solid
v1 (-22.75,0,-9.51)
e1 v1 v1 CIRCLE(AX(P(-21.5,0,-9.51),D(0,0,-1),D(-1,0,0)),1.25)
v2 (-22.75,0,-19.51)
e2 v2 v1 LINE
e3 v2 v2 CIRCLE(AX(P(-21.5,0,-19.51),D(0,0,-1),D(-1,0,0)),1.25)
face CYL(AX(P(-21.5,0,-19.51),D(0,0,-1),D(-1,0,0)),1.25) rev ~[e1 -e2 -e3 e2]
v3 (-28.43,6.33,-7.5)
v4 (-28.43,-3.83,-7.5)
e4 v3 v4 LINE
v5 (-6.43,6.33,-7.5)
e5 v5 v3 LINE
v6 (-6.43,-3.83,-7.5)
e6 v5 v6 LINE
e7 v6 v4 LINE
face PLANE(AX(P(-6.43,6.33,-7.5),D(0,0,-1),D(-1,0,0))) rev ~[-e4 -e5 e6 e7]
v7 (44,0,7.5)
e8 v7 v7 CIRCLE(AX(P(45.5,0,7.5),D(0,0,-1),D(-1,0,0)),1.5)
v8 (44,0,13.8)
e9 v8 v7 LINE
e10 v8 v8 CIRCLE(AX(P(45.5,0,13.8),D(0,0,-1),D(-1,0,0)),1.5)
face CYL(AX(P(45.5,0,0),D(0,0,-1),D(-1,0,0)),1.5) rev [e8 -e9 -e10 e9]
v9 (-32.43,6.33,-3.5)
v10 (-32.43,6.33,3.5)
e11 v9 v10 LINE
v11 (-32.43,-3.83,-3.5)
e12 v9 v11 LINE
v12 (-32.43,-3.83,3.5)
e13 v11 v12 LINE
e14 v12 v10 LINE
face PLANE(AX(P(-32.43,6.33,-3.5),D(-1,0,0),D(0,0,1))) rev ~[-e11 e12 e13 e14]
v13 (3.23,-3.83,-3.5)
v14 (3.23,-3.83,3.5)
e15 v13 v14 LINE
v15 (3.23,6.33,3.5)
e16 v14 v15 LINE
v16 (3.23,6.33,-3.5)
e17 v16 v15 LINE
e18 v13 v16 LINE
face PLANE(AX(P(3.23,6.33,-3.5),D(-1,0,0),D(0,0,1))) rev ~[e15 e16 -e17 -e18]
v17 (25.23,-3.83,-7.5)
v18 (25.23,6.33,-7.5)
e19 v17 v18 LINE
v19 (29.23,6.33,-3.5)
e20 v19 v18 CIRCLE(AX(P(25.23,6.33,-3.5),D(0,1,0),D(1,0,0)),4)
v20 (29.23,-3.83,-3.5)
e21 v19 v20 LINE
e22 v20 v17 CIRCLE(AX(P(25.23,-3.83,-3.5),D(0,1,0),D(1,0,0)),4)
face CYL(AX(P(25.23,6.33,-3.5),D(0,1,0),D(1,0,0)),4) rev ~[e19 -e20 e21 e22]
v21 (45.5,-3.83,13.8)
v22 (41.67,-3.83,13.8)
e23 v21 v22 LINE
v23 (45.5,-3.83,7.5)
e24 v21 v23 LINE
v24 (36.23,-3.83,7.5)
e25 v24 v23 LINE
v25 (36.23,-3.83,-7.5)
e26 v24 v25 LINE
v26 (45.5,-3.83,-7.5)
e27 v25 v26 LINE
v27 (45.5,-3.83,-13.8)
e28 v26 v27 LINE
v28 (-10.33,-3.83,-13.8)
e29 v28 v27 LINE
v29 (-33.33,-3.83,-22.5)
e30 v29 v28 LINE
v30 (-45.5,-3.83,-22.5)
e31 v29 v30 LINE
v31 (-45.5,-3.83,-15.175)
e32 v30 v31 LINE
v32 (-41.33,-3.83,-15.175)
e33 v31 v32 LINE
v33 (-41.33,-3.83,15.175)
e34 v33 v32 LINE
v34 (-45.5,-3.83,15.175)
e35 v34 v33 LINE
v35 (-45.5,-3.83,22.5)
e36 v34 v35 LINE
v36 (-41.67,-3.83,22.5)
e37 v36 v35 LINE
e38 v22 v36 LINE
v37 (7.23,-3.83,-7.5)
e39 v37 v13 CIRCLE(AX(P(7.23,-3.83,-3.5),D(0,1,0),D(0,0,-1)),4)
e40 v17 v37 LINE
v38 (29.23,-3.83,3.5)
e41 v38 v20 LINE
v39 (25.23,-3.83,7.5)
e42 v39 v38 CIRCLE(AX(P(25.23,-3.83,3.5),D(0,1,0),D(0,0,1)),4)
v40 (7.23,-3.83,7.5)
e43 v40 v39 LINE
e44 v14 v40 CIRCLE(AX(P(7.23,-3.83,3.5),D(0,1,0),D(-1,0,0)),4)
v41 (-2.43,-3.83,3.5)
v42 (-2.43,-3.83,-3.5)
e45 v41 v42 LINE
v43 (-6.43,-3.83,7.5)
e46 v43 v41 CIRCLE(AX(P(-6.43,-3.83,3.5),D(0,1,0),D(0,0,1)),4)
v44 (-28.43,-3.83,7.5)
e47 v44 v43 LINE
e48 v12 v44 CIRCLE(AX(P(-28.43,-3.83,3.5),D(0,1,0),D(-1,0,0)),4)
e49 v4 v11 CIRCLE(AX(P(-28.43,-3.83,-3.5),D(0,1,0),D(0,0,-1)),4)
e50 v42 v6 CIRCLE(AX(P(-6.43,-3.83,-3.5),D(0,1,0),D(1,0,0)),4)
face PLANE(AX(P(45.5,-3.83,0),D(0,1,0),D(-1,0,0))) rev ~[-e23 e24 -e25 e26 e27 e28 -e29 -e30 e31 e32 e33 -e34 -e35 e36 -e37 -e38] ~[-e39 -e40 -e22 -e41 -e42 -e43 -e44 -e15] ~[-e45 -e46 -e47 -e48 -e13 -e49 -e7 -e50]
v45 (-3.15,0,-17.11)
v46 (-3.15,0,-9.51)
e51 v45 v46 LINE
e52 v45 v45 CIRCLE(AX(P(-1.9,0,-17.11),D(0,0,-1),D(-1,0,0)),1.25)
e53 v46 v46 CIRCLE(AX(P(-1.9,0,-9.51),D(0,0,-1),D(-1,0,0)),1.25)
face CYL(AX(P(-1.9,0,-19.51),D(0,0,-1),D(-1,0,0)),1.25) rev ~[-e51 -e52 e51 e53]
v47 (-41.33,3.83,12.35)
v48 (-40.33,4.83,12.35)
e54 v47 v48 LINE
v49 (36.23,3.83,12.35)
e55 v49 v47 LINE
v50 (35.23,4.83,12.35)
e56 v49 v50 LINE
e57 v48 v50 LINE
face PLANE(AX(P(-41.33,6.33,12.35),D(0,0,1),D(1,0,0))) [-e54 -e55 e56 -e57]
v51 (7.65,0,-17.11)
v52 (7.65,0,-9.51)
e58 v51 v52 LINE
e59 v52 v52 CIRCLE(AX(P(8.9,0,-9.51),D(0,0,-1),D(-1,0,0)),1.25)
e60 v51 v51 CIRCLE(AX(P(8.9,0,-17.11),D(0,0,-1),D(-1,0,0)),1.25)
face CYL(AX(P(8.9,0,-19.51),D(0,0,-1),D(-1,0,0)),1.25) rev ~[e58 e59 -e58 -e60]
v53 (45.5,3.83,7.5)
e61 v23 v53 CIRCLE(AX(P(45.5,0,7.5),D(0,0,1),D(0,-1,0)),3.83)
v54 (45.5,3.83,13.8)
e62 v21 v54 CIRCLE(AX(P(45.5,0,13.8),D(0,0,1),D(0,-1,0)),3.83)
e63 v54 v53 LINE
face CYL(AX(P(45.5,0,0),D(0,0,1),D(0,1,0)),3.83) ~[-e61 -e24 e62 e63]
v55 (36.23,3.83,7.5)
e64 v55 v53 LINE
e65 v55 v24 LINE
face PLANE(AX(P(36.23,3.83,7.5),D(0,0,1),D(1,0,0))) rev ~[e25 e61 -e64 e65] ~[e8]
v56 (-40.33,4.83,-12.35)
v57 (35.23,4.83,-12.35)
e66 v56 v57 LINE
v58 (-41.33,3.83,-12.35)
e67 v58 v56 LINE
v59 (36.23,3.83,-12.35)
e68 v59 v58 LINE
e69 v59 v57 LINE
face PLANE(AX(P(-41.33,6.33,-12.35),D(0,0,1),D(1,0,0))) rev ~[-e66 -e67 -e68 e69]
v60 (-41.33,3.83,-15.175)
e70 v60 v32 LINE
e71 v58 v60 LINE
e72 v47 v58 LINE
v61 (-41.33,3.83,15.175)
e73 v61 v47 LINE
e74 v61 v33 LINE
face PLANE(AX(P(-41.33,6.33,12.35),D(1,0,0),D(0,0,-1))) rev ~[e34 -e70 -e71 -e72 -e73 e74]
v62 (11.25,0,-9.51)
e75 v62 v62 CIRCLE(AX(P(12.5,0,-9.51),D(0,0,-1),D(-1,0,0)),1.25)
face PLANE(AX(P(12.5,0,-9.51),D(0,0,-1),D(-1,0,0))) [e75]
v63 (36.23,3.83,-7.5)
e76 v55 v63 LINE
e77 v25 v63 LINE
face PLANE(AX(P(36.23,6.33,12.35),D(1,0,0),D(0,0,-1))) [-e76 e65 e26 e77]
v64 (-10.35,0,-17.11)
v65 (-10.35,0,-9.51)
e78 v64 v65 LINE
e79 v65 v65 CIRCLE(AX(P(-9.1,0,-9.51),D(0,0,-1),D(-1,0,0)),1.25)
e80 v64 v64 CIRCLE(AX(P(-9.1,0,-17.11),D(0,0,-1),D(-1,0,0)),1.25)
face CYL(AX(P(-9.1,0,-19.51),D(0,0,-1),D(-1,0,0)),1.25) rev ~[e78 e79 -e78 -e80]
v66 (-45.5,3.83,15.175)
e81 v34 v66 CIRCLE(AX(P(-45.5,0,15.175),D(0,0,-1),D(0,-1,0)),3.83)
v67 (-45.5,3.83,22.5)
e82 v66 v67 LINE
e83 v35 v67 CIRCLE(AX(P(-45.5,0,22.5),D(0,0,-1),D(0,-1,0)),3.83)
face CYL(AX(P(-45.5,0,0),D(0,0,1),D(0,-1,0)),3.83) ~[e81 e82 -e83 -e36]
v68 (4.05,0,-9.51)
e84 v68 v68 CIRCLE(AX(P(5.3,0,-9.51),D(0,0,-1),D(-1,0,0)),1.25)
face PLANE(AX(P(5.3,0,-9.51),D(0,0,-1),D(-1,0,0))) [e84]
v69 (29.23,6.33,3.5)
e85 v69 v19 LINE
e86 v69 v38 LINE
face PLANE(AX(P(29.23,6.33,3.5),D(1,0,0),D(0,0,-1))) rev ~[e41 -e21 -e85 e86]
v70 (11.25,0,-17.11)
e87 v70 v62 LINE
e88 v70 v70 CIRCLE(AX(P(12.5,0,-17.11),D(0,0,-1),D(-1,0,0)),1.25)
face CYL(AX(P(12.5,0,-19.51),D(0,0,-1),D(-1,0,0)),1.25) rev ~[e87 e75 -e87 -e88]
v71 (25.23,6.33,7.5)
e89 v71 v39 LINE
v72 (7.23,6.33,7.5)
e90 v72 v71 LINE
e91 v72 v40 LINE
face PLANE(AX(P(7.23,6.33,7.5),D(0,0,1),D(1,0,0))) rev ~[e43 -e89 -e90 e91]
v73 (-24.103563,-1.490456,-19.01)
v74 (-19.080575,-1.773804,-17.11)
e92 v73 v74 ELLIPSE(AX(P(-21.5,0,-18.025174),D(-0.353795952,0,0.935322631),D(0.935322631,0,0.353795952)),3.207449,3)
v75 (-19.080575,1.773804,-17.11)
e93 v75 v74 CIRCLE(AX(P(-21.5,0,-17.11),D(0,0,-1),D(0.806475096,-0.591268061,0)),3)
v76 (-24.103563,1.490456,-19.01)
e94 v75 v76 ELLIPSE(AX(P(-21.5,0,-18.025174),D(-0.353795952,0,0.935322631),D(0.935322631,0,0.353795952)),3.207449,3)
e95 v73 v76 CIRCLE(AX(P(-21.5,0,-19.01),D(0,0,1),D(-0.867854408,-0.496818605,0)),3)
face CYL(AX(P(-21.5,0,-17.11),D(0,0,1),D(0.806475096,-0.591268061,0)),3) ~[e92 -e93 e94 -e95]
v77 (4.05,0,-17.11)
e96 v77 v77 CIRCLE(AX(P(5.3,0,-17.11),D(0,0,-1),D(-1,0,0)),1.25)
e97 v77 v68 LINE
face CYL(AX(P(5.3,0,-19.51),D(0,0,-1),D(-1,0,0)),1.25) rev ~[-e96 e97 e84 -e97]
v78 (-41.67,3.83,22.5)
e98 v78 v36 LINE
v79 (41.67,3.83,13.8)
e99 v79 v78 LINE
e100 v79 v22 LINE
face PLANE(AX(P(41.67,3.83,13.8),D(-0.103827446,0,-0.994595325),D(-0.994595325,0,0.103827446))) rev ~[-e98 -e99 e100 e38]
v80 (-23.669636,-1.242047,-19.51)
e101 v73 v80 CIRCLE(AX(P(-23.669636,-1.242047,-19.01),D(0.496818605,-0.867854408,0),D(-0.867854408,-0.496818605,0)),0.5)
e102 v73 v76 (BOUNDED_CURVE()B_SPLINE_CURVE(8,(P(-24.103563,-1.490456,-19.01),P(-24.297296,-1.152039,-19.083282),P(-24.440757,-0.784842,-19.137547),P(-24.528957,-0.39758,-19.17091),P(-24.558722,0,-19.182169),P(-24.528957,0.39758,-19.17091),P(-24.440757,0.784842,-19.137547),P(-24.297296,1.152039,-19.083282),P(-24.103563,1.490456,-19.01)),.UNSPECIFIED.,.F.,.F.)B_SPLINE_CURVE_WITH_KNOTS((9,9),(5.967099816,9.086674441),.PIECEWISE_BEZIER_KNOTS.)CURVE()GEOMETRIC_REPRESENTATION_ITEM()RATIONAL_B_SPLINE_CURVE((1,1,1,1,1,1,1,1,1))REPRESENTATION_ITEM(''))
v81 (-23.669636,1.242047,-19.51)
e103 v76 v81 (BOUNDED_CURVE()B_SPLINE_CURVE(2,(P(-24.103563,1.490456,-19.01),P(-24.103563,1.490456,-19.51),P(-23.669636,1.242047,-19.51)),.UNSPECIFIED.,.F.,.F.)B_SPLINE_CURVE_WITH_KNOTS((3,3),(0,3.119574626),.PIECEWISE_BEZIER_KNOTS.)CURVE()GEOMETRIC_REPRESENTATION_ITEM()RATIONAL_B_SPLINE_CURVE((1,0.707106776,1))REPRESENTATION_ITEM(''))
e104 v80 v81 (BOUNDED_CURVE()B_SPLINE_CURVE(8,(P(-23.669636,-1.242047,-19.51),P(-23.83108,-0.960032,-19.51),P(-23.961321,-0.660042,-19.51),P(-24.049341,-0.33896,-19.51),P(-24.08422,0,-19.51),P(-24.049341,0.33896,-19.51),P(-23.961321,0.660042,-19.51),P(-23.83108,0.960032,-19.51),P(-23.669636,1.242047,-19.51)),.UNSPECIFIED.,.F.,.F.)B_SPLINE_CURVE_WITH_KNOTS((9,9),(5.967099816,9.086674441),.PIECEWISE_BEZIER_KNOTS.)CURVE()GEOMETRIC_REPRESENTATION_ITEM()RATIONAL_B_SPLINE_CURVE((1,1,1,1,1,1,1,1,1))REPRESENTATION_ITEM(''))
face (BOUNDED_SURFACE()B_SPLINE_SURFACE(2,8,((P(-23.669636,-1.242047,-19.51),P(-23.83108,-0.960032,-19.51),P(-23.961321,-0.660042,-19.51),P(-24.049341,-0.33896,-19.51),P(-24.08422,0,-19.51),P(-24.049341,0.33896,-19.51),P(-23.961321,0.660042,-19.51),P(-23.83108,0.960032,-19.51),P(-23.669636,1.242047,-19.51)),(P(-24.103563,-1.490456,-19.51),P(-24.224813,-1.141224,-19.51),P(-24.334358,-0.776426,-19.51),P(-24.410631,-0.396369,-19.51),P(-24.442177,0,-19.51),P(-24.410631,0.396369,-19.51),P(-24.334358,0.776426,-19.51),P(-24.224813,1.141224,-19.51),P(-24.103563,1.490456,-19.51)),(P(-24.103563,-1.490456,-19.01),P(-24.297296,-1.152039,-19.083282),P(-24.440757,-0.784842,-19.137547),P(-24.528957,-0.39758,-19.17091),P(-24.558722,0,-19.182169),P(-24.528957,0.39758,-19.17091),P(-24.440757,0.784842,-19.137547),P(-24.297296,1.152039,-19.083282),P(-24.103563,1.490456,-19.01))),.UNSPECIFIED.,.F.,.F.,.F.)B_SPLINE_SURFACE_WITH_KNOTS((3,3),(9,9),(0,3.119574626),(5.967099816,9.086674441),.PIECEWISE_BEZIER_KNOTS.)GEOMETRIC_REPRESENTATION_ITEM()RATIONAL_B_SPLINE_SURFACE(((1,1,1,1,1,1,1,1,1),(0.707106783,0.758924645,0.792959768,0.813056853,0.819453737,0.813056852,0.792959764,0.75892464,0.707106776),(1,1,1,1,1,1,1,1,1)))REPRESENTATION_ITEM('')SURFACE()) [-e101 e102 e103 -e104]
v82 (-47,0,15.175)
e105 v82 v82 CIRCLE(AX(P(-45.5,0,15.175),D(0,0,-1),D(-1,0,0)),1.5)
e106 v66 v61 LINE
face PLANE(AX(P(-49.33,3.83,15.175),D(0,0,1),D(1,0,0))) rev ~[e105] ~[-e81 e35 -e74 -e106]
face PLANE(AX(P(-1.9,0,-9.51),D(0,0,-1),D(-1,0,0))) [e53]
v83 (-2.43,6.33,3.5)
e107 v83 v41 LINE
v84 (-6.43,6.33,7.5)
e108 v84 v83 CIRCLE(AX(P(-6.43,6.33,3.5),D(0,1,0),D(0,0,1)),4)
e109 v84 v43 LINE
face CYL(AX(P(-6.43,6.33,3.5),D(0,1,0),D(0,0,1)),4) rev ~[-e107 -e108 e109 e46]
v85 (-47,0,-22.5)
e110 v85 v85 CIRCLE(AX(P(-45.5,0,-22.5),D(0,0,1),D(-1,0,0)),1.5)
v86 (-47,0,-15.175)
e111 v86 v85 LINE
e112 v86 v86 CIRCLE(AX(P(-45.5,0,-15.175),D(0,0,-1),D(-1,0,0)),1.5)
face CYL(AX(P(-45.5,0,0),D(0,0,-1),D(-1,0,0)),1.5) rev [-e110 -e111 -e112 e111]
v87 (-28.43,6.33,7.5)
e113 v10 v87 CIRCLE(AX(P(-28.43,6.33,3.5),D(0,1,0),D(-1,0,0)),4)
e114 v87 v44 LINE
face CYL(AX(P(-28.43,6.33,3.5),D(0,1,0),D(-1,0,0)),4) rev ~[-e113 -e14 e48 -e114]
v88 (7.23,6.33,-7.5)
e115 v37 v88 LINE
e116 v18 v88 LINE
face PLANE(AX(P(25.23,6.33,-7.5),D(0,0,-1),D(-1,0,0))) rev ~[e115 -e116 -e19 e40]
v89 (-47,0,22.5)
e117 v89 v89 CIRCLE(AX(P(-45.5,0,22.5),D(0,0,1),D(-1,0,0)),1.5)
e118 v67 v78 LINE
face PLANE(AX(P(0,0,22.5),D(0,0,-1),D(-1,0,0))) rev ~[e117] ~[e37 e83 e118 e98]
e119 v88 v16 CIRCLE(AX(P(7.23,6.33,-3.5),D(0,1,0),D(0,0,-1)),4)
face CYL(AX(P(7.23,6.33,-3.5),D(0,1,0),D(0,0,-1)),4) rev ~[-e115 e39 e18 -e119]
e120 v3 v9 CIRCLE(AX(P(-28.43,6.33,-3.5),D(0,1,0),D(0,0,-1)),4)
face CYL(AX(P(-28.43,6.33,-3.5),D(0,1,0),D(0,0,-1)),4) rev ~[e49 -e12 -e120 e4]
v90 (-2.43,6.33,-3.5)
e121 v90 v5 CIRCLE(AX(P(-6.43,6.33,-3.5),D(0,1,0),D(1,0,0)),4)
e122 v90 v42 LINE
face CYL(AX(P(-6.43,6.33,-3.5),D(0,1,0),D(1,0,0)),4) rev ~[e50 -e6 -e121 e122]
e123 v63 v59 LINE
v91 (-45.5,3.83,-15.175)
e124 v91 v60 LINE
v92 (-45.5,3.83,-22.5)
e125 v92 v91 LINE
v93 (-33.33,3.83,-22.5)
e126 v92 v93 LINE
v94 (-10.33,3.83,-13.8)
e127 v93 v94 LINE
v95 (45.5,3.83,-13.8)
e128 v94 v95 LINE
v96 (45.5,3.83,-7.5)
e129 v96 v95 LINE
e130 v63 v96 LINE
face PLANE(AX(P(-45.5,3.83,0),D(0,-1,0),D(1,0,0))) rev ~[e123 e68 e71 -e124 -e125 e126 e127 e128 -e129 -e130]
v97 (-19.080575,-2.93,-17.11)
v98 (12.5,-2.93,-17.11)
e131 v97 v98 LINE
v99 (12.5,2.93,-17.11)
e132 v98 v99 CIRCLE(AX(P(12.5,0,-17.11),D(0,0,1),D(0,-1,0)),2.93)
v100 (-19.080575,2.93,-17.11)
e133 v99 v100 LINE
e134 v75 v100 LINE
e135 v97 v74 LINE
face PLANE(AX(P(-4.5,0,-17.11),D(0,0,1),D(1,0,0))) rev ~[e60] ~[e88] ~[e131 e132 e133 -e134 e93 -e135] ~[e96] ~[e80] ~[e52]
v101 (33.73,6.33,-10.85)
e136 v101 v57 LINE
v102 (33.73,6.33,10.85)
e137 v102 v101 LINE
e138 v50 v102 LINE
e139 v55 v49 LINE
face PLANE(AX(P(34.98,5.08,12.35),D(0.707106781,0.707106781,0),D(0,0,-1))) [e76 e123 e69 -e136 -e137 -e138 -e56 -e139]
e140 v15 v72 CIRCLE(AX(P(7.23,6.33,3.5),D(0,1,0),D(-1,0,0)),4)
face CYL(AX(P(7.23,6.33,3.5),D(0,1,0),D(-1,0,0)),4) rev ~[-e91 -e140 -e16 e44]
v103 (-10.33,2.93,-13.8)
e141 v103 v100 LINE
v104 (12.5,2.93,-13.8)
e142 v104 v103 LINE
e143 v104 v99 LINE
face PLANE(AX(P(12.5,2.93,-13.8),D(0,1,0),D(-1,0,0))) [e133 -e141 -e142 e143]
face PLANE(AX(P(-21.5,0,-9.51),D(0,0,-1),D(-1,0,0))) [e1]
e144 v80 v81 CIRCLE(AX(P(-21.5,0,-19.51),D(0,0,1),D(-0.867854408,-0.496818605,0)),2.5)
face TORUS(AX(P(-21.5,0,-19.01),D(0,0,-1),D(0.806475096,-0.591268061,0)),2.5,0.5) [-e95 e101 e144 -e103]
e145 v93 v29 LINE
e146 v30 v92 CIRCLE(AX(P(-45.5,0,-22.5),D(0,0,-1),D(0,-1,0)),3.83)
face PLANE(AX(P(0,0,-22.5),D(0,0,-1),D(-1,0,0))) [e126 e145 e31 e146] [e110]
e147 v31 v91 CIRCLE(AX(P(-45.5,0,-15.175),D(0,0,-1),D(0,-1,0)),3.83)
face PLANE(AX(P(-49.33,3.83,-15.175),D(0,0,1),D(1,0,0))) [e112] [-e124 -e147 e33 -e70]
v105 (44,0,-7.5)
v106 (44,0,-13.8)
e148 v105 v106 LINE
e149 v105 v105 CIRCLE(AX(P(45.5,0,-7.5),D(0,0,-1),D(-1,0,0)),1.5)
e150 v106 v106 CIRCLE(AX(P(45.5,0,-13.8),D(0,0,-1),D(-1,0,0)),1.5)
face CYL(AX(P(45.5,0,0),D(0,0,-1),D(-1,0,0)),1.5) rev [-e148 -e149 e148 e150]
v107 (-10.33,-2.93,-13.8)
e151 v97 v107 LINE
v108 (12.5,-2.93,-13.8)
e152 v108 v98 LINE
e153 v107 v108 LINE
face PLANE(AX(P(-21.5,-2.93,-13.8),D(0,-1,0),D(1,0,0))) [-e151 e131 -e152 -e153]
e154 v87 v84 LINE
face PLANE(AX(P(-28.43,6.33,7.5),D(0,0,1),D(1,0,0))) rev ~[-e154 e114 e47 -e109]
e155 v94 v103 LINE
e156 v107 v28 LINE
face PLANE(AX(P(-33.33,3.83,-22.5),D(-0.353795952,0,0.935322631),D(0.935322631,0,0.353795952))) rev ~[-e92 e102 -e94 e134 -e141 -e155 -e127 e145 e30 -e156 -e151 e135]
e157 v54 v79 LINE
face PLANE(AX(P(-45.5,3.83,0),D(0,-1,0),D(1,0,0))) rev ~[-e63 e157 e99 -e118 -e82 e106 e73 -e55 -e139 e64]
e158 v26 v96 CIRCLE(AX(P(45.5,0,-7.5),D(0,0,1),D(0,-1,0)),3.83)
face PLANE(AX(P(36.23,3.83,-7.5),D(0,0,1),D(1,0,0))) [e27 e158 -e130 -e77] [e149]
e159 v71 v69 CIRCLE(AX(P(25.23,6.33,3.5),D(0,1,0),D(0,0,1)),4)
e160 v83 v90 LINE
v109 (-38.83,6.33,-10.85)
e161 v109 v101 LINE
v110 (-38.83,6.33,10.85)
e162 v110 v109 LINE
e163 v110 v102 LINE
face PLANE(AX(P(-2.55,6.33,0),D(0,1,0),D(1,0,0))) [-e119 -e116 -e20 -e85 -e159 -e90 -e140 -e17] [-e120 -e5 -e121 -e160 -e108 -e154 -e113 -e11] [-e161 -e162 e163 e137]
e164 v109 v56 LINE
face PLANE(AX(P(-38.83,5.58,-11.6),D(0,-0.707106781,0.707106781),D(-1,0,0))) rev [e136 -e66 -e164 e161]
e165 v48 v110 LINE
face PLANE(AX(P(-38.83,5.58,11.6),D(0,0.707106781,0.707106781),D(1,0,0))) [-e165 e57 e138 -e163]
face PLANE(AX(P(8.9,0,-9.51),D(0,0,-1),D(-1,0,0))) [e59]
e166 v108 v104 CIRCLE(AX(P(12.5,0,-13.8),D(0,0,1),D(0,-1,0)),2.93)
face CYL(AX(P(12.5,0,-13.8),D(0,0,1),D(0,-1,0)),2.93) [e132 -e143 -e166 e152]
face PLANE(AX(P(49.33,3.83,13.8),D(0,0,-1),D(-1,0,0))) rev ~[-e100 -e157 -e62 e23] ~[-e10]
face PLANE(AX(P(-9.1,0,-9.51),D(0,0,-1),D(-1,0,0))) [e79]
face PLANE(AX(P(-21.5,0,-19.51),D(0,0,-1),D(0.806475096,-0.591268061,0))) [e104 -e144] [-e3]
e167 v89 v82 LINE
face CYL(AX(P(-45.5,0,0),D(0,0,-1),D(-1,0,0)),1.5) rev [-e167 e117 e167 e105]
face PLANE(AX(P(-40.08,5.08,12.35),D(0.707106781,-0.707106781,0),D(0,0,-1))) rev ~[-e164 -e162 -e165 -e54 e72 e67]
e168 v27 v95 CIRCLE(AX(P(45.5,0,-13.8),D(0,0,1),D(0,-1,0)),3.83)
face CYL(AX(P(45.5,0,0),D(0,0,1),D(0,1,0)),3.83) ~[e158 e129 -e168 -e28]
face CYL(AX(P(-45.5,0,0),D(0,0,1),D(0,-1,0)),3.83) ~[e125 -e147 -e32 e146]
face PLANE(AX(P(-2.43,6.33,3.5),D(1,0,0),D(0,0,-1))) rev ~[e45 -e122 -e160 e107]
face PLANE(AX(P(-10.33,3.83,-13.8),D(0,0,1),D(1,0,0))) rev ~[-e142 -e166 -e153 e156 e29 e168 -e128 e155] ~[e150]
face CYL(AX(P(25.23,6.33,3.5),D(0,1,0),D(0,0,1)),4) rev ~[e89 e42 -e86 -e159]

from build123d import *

# Parameters (mm, degrees)
SKETCH1_R           = 1.5
BOSS_EXTRUDE1_DEPTH = 22.5
SKETCH2_W           = 3.83
SKETCH2_H           = 8.7
SKETCH2_W_2         = 8
SKETCH2_H_2         = 30.35
SKETCH2_W_3         = 13.1
SKETCH2_H_3         = 15
CUT_EXTRUDE1_DEPTH  = 55.757415023
BOSS_EXTRUDE2_START = 6.33
SKETCH3_W           = 77.56
SKETCH3_H           = 24.7
BOSS_EXTRUDE2_DEPTH = 6.33
CHAMFER1_SIZE       = 2.5
CHAMFER2_SIZE       = 1.5
BOSS_EXTRUDE3_DEPTH = 3.31
SKETCH5_R           = 3
BOSS_EXTRUDE4_DEPTH = 2.4
FILLET1_R           = 0.5
SKETCH6_R           = 1.25
CUT_EXTRUDE2_DEPTH  = 10


with BuildPart() as part:
    # Sketch1 → Boss-Extrude1 (new, symmetric)
    with BuildSketch(Plane.XY):
        with BuildLine():
            Line((-45.5, 3.83), (45.5, 3.83))
            ThreePointArc((45.5, 3.83), (49.33, 0), (45.5, -3.83))
            Line((45.5, -3.83), (-45.5, -3.83))
            ThreePointArc((-45.5, -3.83), (-49.33, 0), (-45.5, 3.83))
        make_face()
        with Locations(Location((-45.5, 0, 0), (0, 0, 180))):
            Circle(SKETCH1_R, mode=Mode.SUBTRACT)
        with Locations(Location((45.5, 0, 0), (0, 0, 180))):
            Circle(SKETCH1_R, mode=Mode.SUBTRACT)
    extrude(amount=BOSS_EXTRUDE1_DEPTH, both=True)

    # Sketch2 → Cut-Extrude1 (cut, through all)
    with BuildSketch(Plane(origin=(0, 3.83, 0), x_dir=(1, 0, 0), z_dir=(0, 1, 0))):
        Polygon((-10.33, 13.8), (45.5, 13.8), (45.5, 22.5), (-33.33, 22.5), align=None)
        Polygon((41.67, -13.8), (-41.67, -22.5), (45.5, -22.5), (45.5, -13.8), align=None)
        with Locations((47.415, -18.15)):
            Rectangle(SKETCH2_W, SKETCH2_H)
        with Locations((47.415, 18.15)):
            Rectangle(SKETCH2_W, SKETCH2_H)
        with BuildLine():
            Line((-6.43, 7.5), (-28.43, 7.5))
            ThreePointArc((-28.43, 7.5), (-31.258427125, 6.328427125), (-32.43, 3.5))
            Line((-32.43, 3.5), (-32.43, -3.5))
            ThreePointArc((-32.43, -3.5), (-31.258427125, -6.328427125), (-28.43, -7.5))
            Line((-28.43, -7.5), (-6.43, -7.5))
            ThreePointArc((-6.43, -7.5), (-3.601572875, -6.328427125), (-2.43, -3.5))
            Line((-2.43, -3.5), (-2.43, 3.5))
            ThreePointArc((-2.43, 3.5), (-3.601572875, 6.328427125), (-6.43, 7.5))
        make_face()
        with BuildLine():
            Line((25.23, 7.5), (7.23, 7.5))
            ThreePointArc((7.23, 7.5), (4.401572875, 6.328427125), (3.23, 3.5))
            Line((3.23, 3.5), (3.23, -3.5))
            ThreePointArc((3.23, -3.5), (4.401572875, -6.328427125), (7.23, -7.5))
            Line((7.23, -7.5), (25.23, -7.5))
            ThreePointArc((25.23, -7.5), (28.058427125, -6.328427125), (29.23, -3.5))
            Line((29.23, -3.5), (29.23, 3.5))
            ThreePointArc((29.23, 3.5), (28.058427125, 6.328427125), (25.23, 7.5))
        make_face()
        with Locations((-45.33, 0)):
            Rectangle(SKETCH2_W_2, SKETCH2_H_2)
        with Locations((42.78, 0)):
            Rectangle(SKETCH2_W_3, SKETCH2_H_3)
    extrude(amount=-CUT_EXTRUDE1_DEPTH, mode=Mode.SUBTRACT)

    # Sketch3 → Boss-Extrude2 (add)
    with BuildSketch(Plane(origin=(0, 0, 0), x_dir=(1, 0, 0), z_dir=(0, 1, 0)).offset(BOSS_EXTRUDE2_START)):
        with Locations((-2.55, 0)):
            Rectangle(SKETCH3_W, SKETCH3_H)
        with BuildLine():
            ThreePointArc((3.23, -3.5), (4.401572875, -6.328427125), (7.23, -7.5))
            Line((7.23, -7.5), (25.23, -7.5))
            ThreePointArc((25.23, -7.5), (28.058427125, -6.328427125), (29.23, -3.5))
            Line((29.23, -3.5), (29.23, 3.5))
            ThreePointArc((29.23, 3.5), (28.058427125, 6.328427125), (25.23, 7.5))
            Line((25.23, 7.5), (7.23, 7.5))
            ThreePointArc((7.23, 7.5), (4.401572875, 6.328427125), (3.23, 3.5))
            Line((3.23, 3.5), (3.23, -3.5))
        make_face(mode=Mode.SUBTRACT)
        with BuildLine():
            ThreePointArc((-32.43, -3.5), (-31.258427125, -6.328427125), (-28.43, -7.5))
            Line((-28.43, -7.5), (-6.43, -7.5))
            ThreePointArc((-6.43, -7.5), (-3.601572875, -6.328427125), (-2.43, -3.5))
            Line((-2.43, -3.5), (-2.43, 3.5))
            ThreePointArc((-2.43, 3.5), (-3.601572875, 6.328427125), (-6.43, 7.5))
            Line((-6.43, 7.5), (-28.43, 7.5))
            ThreePointArc((-28.43, 7.5), (-31.258427125, 6.328427125), (-32.43, 3.5))
            Line((-32.43, 3.5), (-32.43, -3.5))
        make_face(mode=Mode.SUBTRACT)
    extrude(amount=-BOSS_EXTRUDE2_DEPTH)

    # Chamfer1
    chamfer1_edges = [part.edges().sort_by_distance(p)[0] for p in [
        (36.23, 6.33, 0),
        (-41.33, 6.33, 0),
    ]]
    chamfer(chamfer1_edges, length=CHAMFER1_SIZE)

    # Chamfer2
    chamfer2_edges = [part.edges().sort_by_distance(p)[0] for p in [
        (-2.55, 6.33, 12.35),
        (-2.55, 6.33, -12.35),
    ]]
    chamfer(chamfer2_edges, length=CHAMFER2_SIZE)

    # Sketch4 → Boss-Extrude3 (add)
    with BuildSketch(Plane(origin=(0, 0, -13.8), x_dir=(-1, 0, 0), z_dir=(0, 0, -1))):
        with BuildLine():
            Line((21.5, -2.93), (-12.5, -2.93))
            ThreePointArc((-12.5, -2.93), (-15.43, 0), (-12.5, 2.93))
            Line((-12.5, 2.93), (21.5, 2.93))
            ThreePointArc((21.5, 2.93), (24.43, 0), (21.5, -2.93))
        make_face()
    extrude(amount=BOSS_EXTRUDE3_DEPTH)

    # Sketch5 → Boss-Extrude4 (add)
    with BuildSketch(Plane(origin=(0, 0, -17.11), x_dir=(-1, 0, 0), z_dir=(0, 0, -1))):
        with Locations(Location((21.5, 0, 0), (0, 0, 216.247045378))):
            Circle(SKETCH5_R)
    extrude(amount=BOSS_EXTRUDE4_DEPTH)

    # Fillet1
    fillet1_edges = [part.edges().sort_by_distance(p)[0] for p in [
        (-23.919425287, 1.773804183, -19.51),
    ]]
    fillet(fillet1_edges, radius=FILLET1_R)

    # Sketch6 → Cut-Extrude2 (cut)
    with BuildSketch(Plane(origin=(0, 0, -19.51), x_dir=(-1, 0, 0), z_dir=(0, 0, -1))):
        with Locations((21.5, 0)):
            Circle(SKETCH6_R)
        with Locations((9.1, 0)):
            Circle(SKETCH6_R)
        with Locations((1.9, 0)):
            Circle(SKETCH6_R)
        with Locations((-5.3, 0)):
            Circle(SKETCH6_R)
        with Locations((-12.5, 0)):
            Circle(SKETCH6_R)
        with Locations((-8.9, 0)):
            Circle(SKETCH6_R)
    extrude(amount=-CUT_EXTRUDE2_DEPTH, mode=Mode.SUBTRACT)


solid = part.part
